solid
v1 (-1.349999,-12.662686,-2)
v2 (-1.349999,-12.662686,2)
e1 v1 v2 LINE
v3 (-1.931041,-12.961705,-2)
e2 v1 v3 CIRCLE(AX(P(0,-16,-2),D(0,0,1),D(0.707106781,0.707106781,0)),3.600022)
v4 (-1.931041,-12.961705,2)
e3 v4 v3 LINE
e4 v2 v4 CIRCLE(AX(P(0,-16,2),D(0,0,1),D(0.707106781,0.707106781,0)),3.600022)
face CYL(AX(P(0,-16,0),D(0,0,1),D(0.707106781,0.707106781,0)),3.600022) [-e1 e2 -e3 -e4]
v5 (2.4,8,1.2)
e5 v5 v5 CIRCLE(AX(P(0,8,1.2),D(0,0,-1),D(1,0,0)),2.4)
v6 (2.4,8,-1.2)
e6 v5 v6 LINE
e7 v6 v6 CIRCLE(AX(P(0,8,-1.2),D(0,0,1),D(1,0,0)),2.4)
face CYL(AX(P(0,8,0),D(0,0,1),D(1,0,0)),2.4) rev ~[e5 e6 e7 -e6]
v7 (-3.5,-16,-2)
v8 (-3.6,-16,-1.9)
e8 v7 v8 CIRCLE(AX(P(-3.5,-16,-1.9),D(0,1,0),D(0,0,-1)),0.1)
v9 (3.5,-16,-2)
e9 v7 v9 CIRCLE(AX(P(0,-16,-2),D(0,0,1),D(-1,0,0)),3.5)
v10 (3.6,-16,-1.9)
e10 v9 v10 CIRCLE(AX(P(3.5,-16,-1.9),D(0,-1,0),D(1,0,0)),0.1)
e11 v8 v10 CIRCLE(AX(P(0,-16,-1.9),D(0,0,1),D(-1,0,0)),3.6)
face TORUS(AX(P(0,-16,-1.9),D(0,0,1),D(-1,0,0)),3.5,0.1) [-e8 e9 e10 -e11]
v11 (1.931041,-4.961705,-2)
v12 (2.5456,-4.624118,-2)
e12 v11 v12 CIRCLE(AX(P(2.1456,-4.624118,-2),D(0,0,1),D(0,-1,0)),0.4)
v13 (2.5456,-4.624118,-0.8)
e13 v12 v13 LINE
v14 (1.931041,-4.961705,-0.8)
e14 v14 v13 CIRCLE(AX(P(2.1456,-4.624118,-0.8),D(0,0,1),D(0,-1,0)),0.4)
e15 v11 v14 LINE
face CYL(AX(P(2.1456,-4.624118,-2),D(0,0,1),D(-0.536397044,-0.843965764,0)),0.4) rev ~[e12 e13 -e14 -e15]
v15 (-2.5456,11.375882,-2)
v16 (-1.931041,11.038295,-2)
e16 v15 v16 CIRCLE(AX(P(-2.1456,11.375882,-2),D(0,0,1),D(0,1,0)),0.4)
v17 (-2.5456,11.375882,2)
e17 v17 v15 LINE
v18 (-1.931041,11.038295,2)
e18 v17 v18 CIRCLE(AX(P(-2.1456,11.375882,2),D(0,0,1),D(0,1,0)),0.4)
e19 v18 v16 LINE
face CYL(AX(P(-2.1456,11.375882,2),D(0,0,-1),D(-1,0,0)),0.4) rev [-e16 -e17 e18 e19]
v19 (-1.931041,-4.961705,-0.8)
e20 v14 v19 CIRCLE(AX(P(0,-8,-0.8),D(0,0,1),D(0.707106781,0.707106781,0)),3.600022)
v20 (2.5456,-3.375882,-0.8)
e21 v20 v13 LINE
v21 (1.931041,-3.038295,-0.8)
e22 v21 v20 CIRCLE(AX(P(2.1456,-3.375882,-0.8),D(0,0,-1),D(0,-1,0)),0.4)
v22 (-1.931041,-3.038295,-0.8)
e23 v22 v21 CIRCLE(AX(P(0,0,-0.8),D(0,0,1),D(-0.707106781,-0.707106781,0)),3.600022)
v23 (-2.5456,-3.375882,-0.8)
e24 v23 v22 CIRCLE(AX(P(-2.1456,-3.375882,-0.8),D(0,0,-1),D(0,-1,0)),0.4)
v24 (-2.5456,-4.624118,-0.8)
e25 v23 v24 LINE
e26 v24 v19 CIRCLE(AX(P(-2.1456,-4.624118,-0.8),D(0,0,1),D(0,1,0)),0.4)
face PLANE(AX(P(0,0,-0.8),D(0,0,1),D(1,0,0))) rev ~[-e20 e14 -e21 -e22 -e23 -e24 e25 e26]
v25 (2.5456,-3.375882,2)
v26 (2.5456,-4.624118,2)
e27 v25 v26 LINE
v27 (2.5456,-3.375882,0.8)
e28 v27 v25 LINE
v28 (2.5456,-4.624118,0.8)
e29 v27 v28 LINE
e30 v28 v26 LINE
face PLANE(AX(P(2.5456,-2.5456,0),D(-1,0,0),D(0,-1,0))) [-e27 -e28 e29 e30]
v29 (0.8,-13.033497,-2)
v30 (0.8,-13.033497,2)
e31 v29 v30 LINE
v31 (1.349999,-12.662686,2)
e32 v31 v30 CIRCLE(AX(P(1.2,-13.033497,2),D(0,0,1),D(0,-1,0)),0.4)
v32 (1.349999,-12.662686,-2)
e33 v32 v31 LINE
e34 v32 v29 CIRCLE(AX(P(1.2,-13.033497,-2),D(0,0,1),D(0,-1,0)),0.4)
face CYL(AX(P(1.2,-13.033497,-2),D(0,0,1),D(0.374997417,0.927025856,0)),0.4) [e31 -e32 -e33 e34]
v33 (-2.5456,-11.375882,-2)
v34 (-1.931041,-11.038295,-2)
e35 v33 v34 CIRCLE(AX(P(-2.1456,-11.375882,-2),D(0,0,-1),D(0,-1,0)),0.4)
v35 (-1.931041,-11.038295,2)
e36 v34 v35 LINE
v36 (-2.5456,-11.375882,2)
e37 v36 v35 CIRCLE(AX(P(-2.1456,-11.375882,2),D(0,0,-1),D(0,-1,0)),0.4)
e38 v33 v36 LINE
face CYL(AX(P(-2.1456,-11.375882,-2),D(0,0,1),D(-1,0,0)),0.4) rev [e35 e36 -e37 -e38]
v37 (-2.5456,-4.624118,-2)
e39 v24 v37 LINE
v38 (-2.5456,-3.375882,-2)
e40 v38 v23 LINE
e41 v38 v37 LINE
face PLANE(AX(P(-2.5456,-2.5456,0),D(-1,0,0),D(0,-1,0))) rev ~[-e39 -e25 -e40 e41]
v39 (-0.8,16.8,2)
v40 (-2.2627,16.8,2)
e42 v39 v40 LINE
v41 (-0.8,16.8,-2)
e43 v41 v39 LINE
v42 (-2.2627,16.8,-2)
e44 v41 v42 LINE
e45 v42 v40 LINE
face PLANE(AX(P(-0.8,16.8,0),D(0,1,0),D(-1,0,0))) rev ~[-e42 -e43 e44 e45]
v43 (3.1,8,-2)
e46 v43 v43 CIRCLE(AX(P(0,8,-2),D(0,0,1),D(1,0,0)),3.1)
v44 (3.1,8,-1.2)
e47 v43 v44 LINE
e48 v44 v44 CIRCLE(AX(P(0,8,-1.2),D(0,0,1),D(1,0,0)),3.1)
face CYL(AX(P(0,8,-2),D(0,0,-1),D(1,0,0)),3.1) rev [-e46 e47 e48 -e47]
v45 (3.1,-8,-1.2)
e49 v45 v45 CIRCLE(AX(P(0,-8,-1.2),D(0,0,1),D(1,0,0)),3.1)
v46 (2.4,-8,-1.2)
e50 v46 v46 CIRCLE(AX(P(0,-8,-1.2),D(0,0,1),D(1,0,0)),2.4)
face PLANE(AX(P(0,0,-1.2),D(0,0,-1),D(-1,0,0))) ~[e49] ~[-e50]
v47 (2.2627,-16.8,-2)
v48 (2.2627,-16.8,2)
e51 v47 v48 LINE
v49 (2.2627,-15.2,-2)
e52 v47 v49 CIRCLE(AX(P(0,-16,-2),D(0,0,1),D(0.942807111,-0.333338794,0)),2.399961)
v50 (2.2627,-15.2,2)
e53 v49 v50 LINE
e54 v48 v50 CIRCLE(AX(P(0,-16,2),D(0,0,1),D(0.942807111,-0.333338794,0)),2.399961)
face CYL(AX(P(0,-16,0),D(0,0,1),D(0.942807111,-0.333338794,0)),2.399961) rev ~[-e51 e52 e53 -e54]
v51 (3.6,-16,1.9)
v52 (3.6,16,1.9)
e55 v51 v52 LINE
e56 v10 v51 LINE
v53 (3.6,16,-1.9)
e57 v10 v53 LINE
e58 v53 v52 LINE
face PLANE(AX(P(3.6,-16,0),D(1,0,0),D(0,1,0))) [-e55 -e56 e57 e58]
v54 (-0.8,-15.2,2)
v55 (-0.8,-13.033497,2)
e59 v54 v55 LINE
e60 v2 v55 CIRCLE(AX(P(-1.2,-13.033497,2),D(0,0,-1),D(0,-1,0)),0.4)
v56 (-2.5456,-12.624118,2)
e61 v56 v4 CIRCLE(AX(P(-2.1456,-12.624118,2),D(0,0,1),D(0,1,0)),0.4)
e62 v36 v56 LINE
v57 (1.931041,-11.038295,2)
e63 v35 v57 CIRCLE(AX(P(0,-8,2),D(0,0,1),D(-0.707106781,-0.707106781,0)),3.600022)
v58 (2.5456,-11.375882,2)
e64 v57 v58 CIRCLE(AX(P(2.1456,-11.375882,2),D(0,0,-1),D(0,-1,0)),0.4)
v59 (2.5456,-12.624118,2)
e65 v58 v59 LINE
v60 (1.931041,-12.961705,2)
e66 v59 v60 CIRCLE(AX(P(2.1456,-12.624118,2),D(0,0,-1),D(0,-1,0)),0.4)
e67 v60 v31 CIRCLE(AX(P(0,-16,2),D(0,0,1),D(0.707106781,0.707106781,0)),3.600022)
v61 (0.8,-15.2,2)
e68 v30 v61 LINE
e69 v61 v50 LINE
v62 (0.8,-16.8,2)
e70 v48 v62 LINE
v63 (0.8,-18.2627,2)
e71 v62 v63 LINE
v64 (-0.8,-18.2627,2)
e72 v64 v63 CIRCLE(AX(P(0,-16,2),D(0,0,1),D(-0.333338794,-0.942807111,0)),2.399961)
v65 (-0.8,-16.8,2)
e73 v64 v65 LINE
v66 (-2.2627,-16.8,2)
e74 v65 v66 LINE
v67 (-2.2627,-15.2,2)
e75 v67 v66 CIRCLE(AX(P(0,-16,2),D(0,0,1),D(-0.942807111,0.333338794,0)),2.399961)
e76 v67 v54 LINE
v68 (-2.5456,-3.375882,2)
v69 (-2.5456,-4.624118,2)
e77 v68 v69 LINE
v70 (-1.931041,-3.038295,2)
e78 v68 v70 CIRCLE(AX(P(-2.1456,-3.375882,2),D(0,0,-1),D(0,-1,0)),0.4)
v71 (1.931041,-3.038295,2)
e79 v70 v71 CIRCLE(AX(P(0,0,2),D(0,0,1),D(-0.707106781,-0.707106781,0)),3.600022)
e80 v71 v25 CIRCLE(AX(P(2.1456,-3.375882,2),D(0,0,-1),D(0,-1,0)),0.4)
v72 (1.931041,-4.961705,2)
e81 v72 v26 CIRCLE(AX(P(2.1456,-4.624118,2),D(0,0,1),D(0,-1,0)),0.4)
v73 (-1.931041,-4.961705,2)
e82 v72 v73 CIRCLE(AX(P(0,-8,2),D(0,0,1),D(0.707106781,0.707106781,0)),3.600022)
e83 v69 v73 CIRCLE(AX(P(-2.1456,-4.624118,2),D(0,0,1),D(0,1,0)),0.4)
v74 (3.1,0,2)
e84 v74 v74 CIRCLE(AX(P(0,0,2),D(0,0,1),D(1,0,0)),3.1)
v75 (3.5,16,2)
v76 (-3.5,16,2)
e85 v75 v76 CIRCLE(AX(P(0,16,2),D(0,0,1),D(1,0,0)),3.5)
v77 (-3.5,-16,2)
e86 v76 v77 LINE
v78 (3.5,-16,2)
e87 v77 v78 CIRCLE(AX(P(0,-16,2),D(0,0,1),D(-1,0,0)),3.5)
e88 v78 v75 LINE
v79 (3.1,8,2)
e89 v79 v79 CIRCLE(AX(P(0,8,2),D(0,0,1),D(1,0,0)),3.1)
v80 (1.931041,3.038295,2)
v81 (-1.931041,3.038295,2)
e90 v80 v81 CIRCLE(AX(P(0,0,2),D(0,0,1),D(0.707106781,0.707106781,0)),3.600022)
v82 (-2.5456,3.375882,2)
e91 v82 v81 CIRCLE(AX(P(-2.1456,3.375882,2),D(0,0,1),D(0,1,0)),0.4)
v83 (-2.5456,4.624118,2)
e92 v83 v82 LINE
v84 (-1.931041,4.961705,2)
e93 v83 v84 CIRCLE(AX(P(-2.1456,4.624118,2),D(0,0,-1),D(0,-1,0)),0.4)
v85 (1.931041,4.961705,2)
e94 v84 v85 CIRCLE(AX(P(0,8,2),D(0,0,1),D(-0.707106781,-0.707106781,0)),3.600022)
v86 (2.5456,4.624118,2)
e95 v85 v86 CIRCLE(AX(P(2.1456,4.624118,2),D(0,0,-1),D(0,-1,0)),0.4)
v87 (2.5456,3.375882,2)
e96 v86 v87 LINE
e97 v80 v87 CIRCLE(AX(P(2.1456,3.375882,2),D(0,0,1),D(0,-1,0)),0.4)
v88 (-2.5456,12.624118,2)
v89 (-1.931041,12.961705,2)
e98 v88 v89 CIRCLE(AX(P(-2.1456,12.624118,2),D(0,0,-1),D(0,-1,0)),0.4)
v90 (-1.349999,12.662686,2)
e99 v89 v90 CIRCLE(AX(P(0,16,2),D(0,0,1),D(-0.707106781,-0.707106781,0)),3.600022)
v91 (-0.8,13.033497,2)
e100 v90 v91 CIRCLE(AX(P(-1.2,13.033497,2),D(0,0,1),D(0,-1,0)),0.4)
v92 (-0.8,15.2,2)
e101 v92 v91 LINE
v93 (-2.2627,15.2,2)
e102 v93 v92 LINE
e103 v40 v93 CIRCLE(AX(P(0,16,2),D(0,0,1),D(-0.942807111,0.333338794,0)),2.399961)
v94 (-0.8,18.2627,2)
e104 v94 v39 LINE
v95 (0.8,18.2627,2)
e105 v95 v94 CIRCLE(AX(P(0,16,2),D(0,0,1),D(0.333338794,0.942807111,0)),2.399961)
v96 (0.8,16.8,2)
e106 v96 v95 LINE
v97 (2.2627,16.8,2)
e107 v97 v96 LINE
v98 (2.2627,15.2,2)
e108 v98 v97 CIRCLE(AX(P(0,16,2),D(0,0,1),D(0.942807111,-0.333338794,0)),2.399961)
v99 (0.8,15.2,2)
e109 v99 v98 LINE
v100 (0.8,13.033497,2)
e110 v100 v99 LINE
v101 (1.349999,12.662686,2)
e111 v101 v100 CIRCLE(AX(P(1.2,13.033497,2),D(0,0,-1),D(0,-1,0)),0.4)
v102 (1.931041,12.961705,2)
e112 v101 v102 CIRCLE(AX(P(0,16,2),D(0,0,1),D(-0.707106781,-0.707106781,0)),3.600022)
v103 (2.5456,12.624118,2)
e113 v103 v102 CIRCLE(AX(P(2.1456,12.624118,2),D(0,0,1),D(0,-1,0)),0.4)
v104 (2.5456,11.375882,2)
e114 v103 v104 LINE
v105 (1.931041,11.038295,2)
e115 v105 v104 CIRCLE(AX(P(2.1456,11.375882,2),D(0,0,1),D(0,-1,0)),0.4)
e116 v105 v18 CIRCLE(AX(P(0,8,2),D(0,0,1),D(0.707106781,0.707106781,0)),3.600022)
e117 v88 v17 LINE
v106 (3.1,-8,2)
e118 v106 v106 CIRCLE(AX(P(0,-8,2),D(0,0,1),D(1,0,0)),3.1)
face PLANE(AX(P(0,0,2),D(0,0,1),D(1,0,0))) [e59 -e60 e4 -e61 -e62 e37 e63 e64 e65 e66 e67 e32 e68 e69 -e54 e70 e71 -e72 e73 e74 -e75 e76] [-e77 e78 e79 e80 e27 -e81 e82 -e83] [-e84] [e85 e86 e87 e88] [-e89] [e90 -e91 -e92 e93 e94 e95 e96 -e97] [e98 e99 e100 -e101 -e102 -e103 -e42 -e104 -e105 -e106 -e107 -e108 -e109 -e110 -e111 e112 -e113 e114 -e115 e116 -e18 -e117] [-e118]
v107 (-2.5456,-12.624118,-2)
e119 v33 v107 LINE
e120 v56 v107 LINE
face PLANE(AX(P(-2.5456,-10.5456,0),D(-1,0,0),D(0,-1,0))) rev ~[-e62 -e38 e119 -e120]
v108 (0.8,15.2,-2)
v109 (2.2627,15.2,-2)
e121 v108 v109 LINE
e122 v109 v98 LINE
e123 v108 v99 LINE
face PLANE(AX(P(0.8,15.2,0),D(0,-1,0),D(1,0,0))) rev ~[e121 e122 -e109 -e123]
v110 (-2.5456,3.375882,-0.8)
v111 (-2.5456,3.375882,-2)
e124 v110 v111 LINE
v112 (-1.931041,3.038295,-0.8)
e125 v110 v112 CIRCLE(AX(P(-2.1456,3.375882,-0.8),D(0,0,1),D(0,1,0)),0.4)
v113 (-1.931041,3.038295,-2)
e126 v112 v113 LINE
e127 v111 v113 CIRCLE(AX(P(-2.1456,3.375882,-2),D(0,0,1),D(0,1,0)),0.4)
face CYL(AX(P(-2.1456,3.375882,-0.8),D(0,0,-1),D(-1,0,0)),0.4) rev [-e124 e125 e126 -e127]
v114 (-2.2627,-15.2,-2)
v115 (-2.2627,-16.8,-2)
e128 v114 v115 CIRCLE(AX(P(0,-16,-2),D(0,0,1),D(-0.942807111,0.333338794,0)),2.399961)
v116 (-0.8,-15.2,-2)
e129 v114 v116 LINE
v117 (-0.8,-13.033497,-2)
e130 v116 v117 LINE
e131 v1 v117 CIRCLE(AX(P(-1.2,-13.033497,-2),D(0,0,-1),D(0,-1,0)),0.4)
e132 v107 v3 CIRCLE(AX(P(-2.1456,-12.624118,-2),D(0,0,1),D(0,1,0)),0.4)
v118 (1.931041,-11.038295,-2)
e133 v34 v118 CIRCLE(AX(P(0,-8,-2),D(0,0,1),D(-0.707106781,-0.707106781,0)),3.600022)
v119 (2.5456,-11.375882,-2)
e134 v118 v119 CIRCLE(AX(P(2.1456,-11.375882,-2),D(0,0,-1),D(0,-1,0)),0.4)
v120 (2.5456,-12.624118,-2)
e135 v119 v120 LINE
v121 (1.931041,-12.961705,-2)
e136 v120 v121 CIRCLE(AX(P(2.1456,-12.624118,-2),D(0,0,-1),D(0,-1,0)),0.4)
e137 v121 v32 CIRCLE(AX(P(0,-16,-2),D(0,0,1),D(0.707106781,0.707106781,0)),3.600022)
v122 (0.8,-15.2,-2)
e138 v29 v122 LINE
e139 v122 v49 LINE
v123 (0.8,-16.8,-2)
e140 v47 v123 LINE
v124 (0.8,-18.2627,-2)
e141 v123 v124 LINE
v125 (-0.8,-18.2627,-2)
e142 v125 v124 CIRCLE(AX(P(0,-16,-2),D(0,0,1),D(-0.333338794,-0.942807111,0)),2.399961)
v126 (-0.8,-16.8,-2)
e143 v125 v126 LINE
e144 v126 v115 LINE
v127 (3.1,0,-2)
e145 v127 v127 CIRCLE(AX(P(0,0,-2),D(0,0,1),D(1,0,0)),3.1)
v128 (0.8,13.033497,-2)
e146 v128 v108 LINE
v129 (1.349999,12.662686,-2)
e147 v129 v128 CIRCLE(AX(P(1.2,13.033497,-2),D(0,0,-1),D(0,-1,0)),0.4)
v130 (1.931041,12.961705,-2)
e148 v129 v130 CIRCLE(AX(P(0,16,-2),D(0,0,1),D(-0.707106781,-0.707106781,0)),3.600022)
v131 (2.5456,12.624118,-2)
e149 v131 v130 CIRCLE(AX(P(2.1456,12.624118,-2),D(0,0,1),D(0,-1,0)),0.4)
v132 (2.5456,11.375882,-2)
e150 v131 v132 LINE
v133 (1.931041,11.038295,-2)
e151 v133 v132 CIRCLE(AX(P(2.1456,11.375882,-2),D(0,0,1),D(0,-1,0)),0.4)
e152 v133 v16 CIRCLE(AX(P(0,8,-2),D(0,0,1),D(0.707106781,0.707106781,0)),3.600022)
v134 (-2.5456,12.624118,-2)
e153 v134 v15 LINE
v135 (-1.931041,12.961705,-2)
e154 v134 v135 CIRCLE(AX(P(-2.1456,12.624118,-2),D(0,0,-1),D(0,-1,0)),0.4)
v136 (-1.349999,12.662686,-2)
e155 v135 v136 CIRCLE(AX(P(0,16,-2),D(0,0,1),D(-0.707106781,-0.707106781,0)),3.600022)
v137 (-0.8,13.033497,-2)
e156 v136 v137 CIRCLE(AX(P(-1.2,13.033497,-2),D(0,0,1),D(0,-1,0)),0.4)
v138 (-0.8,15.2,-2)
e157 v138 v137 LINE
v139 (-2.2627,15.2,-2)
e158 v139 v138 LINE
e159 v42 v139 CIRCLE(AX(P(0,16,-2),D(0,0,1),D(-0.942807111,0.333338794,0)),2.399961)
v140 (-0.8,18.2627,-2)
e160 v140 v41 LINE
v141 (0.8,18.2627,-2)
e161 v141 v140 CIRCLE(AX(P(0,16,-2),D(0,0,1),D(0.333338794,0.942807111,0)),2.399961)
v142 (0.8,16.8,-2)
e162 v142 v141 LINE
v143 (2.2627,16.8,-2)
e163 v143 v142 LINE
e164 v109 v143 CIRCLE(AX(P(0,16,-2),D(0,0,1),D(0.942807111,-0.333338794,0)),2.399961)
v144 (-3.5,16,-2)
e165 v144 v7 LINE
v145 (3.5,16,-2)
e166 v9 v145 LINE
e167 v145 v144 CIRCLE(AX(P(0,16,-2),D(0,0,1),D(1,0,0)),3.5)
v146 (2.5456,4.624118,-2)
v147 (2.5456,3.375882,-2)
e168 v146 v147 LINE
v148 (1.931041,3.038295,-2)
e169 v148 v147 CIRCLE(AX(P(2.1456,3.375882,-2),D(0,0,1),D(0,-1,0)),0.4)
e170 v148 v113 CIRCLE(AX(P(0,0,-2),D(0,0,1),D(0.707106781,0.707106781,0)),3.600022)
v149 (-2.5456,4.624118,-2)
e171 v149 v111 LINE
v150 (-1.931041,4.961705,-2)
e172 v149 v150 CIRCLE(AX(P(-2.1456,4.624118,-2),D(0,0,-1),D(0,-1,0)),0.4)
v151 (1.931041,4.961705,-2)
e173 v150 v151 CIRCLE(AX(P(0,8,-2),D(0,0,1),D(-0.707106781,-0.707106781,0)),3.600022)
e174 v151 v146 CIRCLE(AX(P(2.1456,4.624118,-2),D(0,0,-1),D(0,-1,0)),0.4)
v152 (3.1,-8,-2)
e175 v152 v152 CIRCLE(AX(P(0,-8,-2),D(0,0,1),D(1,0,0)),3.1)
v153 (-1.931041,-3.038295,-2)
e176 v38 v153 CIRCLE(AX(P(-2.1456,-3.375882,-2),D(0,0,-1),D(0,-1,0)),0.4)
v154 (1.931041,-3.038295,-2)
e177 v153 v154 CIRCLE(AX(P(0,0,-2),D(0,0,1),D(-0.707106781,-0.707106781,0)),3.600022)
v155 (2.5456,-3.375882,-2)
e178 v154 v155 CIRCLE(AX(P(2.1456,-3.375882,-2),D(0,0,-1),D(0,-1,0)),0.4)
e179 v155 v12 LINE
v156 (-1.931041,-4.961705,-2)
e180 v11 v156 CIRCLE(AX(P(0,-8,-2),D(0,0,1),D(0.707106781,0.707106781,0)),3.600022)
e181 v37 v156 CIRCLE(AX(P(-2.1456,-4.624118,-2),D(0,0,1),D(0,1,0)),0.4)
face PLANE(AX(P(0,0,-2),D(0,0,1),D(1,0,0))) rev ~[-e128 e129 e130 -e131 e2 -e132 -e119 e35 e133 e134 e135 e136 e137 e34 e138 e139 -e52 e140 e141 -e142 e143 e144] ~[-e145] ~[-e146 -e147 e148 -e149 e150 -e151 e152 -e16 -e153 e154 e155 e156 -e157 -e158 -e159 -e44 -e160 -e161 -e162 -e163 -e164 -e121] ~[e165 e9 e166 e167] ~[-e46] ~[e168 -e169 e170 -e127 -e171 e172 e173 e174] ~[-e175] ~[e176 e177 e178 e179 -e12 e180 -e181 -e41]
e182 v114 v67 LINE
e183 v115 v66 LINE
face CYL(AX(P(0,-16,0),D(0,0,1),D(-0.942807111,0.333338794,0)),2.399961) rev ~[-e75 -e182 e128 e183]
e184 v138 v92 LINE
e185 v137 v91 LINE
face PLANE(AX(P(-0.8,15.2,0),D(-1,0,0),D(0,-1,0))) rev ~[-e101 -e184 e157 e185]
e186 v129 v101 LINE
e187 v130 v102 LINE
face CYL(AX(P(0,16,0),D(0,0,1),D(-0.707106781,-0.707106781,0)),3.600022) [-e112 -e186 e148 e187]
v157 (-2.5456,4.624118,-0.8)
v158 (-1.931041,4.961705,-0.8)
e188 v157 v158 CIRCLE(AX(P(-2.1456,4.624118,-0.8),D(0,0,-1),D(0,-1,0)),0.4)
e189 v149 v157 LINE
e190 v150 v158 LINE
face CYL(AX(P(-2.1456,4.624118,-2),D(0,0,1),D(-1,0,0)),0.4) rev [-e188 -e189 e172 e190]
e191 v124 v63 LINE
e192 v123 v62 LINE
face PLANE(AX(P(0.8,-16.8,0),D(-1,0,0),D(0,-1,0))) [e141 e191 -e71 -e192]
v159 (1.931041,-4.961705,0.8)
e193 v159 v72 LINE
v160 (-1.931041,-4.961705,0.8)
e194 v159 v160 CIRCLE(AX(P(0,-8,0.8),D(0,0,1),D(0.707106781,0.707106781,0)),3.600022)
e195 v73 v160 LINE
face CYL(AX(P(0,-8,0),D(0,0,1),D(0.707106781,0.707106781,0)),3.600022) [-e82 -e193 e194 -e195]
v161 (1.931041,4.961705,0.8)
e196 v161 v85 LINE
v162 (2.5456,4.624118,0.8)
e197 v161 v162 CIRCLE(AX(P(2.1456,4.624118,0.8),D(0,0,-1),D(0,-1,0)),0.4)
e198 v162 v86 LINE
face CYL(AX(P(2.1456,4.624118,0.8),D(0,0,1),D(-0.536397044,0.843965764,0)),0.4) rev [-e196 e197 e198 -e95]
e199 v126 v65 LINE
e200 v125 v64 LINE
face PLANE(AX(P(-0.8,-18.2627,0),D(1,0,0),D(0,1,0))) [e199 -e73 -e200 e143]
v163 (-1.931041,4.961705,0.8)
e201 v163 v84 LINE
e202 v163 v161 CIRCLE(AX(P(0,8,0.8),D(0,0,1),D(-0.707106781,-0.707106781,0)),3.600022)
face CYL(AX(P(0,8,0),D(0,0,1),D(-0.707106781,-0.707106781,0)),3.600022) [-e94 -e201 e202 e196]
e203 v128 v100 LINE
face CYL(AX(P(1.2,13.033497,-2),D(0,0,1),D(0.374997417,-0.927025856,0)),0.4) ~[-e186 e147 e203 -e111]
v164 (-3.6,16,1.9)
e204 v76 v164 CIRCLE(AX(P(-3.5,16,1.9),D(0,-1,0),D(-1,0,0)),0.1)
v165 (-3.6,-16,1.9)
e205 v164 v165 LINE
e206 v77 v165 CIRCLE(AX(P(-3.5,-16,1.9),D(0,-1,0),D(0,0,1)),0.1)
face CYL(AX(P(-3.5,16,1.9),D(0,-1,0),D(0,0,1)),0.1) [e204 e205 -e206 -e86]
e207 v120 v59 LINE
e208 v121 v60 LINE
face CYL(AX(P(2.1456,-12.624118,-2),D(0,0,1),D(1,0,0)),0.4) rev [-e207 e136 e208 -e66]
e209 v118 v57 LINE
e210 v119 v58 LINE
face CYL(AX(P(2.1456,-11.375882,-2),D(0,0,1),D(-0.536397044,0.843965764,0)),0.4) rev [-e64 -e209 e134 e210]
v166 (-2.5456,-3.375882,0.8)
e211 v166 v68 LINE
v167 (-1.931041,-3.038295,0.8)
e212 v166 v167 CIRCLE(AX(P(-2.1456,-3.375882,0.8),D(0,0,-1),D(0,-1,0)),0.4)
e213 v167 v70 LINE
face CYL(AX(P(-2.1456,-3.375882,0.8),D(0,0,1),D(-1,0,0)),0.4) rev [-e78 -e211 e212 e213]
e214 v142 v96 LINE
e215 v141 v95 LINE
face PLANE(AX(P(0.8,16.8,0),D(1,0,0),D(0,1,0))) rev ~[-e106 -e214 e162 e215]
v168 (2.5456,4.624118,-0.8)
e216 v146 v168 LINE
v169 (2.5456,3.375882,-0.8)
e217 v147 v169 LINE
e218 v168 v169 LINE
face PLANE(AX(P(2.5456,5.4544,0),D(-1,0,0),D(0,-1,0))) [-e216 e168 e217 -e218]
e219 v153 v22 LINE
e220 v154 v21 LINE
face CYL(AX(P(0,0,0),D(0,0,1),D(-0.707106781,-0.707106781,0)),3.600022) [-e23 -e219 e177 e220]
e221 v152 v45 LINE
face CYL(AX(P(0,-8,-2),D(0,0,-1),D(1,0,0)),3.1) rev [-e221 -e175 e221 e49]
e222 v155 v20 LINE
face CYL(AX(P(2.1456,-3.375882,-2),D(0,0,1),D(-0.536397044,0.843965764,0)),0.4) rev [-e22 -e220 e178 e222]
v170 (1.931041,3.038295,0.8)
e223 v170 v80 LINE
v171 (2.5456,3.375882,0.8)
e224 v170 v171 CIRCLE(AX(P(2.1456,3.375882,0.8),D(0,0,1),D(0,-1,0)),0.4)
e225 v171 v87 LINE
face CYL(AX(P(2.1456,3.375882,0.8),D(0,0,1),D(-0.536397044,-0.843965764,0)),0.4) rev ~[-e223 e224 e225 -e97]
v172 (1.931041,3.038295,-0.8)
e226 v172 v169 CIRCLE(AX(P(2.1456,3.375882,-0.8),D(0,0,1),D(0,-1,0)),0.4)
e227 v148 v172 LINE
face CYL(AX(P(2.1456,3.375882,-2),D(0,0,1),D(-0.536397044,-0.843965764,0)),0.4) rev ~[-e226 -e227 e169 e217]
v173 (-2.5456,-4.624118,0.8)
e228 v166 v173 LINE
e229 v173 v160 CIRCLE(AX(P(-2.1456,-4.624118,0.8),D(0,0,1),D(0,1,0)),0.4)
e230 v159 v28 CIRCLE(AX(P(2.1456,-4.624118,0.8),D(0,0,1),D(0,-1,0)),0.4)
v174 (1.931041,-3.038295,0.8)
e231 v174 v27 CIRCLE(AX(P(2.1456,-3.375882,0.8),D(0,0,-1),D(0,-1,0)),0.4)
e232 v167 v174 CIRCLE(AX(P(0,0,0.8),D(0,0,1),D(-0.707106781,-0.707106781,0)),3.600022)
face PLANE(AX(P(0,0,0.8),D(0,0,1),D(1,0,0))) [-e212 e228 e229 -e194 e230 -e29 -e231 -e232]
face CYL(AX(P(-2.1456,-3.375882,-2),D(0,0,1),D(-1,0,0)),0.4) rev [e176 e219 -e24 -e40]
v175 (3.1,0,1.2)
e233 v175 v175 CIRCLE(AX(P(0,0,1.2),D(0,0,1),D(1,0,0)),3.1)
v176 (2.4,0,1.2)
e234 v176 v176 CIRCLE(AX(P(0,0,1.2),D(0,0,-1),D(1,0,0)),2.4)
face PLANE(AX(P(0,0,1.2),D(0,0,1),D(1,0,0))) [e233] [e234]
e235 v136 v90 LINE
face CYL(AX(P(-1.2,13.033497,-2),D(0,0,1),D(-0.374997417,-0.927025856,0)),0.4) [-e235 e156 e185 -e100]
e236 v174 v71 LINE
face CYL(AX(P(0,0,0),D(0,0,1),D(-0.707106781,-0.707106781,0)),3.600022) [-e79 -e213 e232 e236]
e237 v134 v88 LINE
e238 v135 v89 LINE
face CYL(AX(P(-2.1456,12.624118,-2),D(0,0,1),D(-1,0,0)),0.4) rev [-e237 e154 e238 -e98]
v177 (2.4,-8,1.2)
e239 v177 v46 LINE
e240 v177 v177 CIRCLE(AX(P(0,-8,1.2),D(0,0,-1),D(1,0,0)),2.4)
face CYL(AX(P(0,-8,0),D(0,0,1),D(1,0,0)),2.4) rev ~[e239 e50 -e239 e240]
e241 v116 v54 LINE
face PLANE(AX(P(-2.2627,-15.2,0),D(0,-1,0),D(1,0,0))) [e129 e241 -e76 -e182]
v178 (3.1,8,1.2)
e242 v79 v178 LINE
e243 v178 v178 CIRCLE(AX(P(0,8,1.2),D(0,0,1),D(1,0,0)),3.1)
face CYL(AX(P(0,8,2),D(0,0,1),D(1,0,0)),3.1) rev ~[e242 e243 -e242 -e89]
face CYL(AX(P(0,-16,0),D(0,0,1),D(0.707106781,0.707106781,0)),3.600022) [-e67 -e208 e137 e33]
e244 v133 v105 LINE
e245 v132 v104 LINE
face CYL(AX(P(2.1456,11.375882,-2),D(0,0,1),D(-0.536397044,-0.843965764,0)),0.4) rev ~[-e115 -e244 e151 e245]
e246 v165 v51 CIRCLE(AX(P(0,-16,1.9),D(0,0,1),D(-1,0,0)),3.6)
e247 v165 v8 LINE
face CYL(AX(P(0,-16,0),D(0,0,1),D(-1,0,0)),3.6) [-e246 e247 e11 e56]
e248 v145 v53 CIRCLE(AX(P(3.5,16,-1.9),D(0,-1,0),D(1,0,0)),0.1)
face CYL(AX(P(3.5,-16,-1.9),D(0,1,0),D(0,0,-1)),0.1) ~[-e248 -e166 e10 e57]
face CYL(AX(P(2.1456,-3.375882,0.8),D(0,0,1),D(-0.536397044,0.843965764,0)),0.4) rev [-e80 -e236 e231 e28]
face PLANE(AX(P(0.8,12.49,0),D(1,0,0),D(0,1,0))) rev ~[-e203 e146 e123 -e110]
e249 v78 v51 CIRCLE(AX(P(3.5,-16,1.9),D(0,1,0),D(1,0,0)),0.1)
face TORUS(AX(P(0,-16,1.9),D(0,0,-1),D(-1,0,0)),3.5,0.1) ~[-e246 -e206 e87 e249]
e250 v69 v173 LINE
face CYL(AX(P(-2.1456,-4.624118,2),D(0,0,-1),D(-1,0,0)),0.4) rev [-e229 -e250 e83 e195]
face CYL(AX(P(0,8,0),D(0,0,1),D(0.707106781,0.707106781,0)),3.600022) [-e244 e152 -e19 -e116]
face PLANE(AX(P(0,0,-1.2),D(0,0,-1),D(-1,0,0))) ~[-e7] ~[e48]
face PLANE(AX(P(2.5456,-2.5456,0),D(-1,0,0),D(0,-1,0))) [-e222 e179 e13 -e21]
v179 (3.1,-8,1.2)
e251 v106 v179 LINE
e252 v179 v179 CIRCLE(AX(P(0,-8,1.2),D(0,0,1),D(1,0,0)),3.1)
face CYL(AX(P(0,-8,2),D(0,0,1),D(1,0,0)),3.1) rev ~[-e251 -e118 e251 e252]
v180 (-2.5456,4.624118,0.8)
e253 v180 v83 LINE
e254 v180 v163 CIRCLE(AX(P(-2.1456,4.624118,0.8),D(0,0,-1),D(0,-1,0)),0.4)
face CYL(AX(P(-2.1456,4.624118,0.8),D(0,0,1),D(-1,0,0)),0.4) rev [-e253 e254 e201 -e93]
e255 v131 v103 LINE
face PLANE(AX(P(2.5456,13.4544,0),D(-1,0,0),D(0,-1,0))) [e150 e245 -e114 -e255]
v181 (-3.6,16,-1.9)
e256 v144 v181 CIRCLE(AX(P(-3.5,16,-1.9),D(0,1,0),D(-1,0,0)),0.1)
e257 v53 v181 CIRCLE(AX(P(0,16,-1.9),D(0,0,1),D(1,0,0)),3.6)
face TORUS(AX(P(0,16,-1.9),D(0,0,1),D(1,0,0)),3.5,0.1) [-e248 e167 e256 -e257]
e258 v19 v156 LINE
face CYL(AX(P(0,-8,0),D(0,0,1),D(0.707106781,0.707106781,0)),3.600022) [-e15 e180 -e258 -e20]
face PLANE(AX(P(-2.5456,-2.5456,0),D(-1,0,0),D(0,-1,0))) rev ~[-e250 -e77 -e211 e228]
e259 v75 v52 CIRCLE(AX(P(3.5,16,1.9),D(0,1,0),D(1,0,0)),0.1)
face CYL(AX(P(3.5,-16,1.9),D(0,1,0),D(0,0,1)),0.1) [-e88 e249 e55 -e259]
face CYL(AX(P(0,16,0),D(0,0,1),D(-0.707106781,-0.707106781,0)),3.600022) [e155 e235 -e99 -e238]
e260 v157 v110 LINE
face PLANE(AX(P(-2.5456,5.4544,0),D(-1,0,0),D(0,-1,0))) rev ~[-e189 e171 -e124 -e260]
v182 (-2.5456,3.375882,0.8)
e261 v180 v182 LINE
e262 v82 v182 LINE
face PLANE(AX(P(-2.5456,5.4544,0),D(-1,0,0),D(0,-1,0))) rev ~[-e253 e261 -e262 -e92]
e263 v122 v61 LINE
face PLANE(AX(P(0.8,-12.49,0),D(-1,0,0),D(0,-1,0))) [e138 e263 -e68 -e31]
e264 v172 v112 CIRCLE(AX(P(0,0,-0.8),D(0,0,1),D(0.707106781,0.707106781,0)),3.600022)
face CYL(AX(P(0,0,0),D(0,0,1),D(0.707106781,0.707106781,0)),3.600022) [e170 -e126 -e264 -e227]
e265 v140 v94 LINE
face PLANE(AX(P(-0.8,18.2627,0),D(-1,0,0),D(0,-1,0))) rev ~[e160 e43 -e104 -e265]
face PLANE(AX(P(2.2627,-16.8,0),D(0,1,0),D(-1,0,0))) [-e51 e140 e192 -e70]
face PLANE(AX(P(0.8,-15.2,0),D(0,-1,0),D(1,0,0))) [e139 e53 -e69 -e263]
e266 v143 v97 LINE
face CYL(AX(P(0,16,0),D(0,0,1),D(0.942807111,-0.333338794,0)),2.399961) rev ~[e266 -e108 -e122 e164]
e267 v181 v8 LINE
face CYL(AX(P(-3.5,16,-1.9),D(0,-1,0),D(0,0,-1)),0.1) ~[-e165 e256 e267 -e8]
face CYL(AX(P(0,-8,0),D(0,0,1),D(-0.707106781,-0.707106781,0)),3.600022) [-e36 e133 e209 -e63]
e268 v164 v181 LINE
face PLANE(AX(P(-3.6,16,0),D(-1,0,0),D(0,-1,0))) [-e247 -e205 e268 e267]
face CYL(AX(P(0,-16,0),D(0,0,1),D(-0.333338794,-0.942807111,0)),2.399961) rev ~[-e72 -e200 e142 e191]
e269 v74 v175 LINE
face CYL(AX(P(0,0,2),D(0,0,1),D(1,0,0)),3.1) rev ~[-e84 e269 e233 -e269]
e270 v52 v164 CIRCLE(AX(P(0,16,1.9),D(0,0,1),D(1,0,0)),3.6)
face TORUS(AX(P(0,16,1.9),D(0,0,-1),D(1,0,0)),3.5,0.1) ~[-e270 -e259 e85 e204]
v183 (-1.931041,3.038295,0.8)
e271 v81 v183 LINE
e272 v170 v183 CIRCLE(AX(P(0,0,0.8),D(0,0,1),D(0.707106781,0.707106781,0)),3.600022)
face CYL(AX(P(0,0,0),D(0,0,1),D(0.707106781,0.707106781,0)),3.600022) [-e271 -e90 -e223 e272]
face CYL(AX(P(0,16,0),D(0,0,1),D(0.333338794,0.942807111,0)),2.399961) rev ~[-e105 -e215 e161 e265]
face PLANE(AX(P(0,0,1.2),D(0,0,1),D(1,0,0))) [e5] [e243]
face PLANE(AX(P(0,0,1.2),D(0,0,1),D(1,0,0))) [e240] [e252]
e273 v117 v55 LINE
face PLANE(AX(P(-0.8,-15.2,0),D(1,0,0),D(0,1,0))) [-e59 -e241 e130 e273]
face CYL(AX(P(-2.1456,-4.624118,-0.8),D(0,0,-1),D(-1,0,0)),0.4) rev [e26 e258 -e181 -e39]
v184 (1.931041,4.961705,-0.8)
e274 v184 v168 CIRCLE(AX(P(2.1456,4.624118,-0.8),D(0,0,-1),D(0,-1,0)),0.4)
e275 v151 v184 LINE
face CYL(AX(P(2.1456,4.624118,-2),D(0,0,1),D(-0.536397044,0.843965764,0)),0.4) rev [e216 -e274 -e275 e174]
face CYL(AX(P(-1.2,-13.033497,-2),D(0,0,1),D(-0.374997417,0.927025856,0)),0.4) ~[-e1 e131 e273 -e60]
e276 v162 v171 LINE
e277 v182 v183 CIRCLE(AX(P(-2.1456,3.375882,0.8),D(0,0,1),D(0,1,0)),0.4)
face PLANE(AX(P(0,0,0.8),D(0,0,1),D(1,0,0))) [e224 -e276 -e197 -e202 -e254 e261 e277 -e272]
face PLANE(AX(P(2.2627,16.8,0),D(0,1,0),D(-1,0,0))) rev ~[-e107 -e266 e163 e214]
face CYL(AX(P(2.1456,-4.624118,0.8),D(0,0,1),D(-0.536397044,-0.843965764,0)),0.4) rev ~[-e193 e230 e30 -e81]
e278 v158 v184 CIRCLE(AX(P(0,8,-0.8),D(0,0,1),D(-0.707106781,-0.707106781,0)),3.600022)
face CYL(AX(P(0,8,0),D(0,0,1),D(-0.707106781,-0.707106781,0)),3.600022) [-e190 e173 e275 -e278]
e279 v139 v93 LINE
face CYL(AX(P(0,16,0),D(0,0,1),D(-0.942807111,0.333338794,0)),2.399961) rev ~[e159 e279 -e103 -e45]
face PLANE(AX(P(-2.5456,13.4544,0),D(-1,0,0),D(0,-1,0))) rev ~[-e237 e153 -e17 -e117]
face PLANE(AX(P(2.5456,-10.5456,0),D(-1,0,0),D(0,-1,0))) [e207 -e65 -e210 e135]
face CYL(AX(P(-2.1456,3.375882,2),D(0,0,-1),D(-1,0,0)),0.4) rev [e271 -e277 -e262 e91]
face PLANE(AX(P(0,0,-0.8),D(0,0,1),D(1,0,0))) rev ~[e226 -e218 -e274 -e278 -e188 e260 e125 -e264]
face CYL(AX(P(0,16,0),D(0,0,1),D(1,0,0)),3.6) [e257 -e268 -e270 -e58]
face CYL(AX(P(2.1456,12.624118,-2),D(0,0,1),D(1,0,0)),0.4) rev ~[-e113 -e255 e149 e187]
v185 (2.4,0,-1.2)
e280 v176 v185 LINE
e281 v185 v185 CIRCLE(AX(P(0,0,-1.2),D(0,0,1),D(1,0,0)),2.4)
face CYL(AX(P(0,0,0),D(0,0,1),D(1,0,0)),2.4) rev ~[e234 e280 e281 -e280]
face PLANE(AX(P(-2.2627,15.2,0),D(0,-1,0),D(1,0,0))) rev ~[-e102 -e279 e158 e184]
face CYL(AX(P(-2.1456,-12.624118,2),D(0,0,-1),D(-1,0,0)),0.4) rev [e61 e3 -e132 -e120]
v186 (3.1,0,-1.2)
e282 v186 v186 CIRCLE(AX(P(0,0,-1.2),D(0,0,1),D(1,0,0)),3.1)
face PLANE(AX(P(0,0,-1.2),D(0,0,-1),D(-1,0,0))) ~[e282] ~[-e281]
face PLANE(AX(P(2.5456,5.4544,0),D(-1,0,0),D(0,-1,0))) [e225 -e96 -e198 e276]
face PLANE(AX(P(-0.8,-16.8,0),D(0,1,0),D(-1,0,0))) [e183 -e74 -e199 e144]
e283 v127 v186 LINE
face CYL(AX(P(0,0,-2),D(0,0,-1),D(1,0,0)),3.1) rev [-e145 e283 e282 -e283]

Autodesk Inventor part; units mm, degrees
ref_plane "YZ Plane" through (0, 0, 0) normal (1, 0, 0) x (0, 1, 0)
ref_plane "XZ Plane" through (0, 0, 0) normal (0, 1, 0) x (-1, 0, 0)
ref_plane "XY Plane" through (0, 0, 0) normal (0, 0, 1) x (1, 0, 0)
sketch "Sketch1" plane through (0, 0, 0) normal (0, 0, 1) x (1, 0, 0)
  line L0 (3.6, -16) -> (3.6, 16)
  line L1 (-3.6, 16) -> (-3.6, -16)
  arc A0 (3.6, 16) -> (-3.6, 16) centre (0, 16) ccw
  circle A1 centre (0, 16) radius 2.4 construction
  circle A2 centre (0, 16) radius 3.2 construction
  circle A3 centre (0, 8) radius 3.2
  circle A4 centre (0, 8) radius 2.4
  line L2 (0, 8) -> (0, 16) construction
  line L3 (-2.5456, 13.4544) -> (-2.5456, 10.5456)
  line L4 (2.5456, 13.4544) -> (2.5456, 10.5456)
  arc A5 (-2.5456, 13.4544) -> (2.5456, 13.4544) centre (0, 16) ccw
  arc A6 (2.5456, 10.5456) -> (-2.5456, 10.5456) centre (0, 8) ccw
  arc A7 (-3.6, -16) -> (3.6, -16) centre (0, -16) ccw
  circle A8 centre (0, -16) radius 3.2 construction
  circle A9 centre (0, -16) radius 2.4 construction
  line L5 (-2.5456, -10.5456) -> (-2.5456, -13.4544)
  line L6 (2.5456, -10.5456) -> (2.5456, -13.4544)
  arc A10 (2.5456, -13.4544) -> (-2.5456, -13.4544) centre (0, -16) ccw
  line L7 (0.8, 12.49) -> (0.8, 15.2)
  line L8 (0.8, 15.2) -> (2.2627, 15.2)
  line L9 (2.2627, 16.8) -> (0.8, 16.8)
  line L10 (0.8, 16.8) -> (0.8, 18.2627)
  line L11 (-0.8, 18.2627) -> (-0.8, 16.8)
  line L12 (-0.8, 16.8) -> (-2.2627, 16.8)
  line L13 (-2.2627, 15.2) -> (-0.8, 15.2)
  line L14 (-0.8, 15.2) -> (-0.8, 12.49)
  arc A11 (-2.2627, 16.8) -> (-2.2627, 15.2) centre (0, 16) ccw
  arc A12 (0.8, 18.2627) -> (-0.8, 18.2627) centre (0, 16) ccw
  arc A13 (2.2627, 15.2) -> (2.2627, 16.8) centre (0, 16) ccw
  line L15 (-0.8, -18.2627) -> (-0.8, -16.8)
  line L16 (-0.8, -16.8) -> (-2.2627, -16.8)
  line L17 (-2.2627, -15.2) -> (-0.8, -15.2)
  line L18 (-0.8, -15.2) -> (-0.8, -12.49)
  line L19 (0.8, -12.49) -> (0.8, -15.2)
  line L20 (0.8, -15.2) -> (2.2627, -15.2)
  line L21 (2.2627, -16.8) -> (0.8, -16.8)
  line L22 (0.8, -16.8) -> (0.8, -18.2627)
  arc A14 (-2.2627, -15.2) -> (-2.2627, -16.8) centre (0, -16) ccw
  arc A15 (-0.8, -18.2627) -> (0.8, -18.2627) centre (0, -16) ccw
  arc A16 (2.2627, -16.8) -> (2.2627, -15.2) centre (0, -16) ccw
  circle A17 centre (0, 0) radius 3.2
  circle A18 centre (0, 0) radius 2.4
  circle A19 centre (0, -8) radius 3.2
  circle A20 centre (0, -8) radius 2.4
  line L23 (0, 8) -> (0, 0) construction
  line L24 (0, 0) -> (0, -8) construction
  line L25 (0, -8) -> (0, -16) construction
  line L26 (-2.5456, 13.4544) -> (0, 16) construction
  arc A21 (-2.5456, -10.5456) -> (2.5456, -10.5456) centre (0, -8) ccw
  line L27 (-2.5456, 5.4544) -> (-2.5456, 2.5456)
  line L28 (-2.5456, -2.5456) -> (-2.5456, -5.4544)
  line L29 (2.5456, -2.5456) -> (2.5456, -5.4544)
  line L30 (2.5456, 5.4544) -> (2.5456, 2.5456)
  arc A22 (-2.5456, 5.4544) -> (2.5456, 5.4544) centre (0, 8) ccw
  arc A23 (2.5456, 2.5456) -> (-2.5456, 2.5456) centre (0, 0) ccw
  arc A24 (-2.5456, -2.5456) -> (2.5456, -2.5456) centre (0, 0) ccw
  arc A25 (2.5456, -5.4544) -> (-2.5456, -5.4544) centre (0, -8) ccw
  dimension "d8" = 4.8
  dimension "d9" = 6.4
  dimension "d32" = 7.2
  dimension "d34" = 8
  dimension "d52" = 1.6
  dimension "d54" = 45
extrude "Extrusion1" add sketch "Sketch1" along normal mid plane 4 contours A7 L1 A0 L0 | A3 | A17 | A19
extrude "Extrusion9" add sketch "Sketch1" along normal mid plane 1.6 contours A22 L30 A23 L27 | A24 L29 A25 L28
sketch "Sketch6" plane through (0, 0, 2) normal (0, 0, 1) x (1, 0, 0)
  circle A0 centre (0, 8) radius 3.1
  circle A1 centre (0, 8) radius 2.4 projected
  arc A2 (2.5456, 2.5456) -> (-2.5456, 2.5456) centre (0, 0) ccw projected
  arc A3 (-2.5456, -10.5456) -> (2.5456, -10.5456) centre (0, -8) ccw projected
  circle A4 centre (0, 0) radius 3.1
  circle A5 centre (0, -8) radius 3.1
  dimension "d53" = 6.2
extrude "Extrusion7" cut sketch "Sketch6" against normal blind 0.8 contours A0 | A1 | A4 | A5
mirror "Mirror1" about plane through (0, 0, 0) normal (0, 0, 1) of "Extrusion7"
fillet "Fillet1" radius 0.1 6 edges at (0, 19.6, 2) (3.6, 0, 2) (-3.6, 0, 2) (0, 19.6, -2) (-3.6, 0, -2) (3.6, 0, -2)
fillet "Fillet1" radius 0.4 28 edges at (-2.5456, -10.5456, 0) (-2.5456, -13.4544, 0) (2.5456, -13.4544, 0) (2.5456, -10.5456, 0) (-2.5456, 13.4544, 0) (-2.5456, 10.5456, 0) (-0.8, -12.49, 0) (0.8, -12.49, 0) (2.5456, 10.5456, 0) (2.5456, 13.4544, 0) (0.8, 12.49, 0) (-0.8, 12.49, 0) (-2.5456, -5.4544, 1.4) (-2.5456, -2.5456, 1.4) (2.5456, -5.4544, 1.4) (2.5456, -2.5456, 1.4) (-2.5456, 2.5456, 1.4) (-2.5456, 5.4544, 1.4) (2.5456, 2.5456, 1.4) (2.5456, 5.4544, 1.4) (2.5456, -5.4544, -1.4) (2.5456, -2.5456, -1.4) (2.5456, 2.5456, -1.4) (2.5456, 5.4544, -1.4) (-2.5456, -5.4544, -1.4) (-2.5456, -2.5456, -1.4) (-2.5456, 2.5456, -1.4) (-2.5456, 5.4544, -1.4)
equation "\"d8\" = kd"
equation "\"d9\" = tsd"
equation "\"d32\" = tlad"
equation "\"d34\" = lu"
equation "\"d52\" = axlet"
equation "\"d14\" = 0.5 * lu"
equation "\"d55\" = wall"
equation "\"d41\" = tsl"
equation "\"kd\" = 4.8"
equation "\"tsd\" = 6.4"
equation "\"tlad\" = 7.2"
equation "\"lu\" = 8"
equation "\"axlet\" = 1.6"
equation "\"wall\" = 1.6"
equation "\"tsl\" = 0.8"
properties part number "11478-LtBluishGray" material "ABS Plastic"
